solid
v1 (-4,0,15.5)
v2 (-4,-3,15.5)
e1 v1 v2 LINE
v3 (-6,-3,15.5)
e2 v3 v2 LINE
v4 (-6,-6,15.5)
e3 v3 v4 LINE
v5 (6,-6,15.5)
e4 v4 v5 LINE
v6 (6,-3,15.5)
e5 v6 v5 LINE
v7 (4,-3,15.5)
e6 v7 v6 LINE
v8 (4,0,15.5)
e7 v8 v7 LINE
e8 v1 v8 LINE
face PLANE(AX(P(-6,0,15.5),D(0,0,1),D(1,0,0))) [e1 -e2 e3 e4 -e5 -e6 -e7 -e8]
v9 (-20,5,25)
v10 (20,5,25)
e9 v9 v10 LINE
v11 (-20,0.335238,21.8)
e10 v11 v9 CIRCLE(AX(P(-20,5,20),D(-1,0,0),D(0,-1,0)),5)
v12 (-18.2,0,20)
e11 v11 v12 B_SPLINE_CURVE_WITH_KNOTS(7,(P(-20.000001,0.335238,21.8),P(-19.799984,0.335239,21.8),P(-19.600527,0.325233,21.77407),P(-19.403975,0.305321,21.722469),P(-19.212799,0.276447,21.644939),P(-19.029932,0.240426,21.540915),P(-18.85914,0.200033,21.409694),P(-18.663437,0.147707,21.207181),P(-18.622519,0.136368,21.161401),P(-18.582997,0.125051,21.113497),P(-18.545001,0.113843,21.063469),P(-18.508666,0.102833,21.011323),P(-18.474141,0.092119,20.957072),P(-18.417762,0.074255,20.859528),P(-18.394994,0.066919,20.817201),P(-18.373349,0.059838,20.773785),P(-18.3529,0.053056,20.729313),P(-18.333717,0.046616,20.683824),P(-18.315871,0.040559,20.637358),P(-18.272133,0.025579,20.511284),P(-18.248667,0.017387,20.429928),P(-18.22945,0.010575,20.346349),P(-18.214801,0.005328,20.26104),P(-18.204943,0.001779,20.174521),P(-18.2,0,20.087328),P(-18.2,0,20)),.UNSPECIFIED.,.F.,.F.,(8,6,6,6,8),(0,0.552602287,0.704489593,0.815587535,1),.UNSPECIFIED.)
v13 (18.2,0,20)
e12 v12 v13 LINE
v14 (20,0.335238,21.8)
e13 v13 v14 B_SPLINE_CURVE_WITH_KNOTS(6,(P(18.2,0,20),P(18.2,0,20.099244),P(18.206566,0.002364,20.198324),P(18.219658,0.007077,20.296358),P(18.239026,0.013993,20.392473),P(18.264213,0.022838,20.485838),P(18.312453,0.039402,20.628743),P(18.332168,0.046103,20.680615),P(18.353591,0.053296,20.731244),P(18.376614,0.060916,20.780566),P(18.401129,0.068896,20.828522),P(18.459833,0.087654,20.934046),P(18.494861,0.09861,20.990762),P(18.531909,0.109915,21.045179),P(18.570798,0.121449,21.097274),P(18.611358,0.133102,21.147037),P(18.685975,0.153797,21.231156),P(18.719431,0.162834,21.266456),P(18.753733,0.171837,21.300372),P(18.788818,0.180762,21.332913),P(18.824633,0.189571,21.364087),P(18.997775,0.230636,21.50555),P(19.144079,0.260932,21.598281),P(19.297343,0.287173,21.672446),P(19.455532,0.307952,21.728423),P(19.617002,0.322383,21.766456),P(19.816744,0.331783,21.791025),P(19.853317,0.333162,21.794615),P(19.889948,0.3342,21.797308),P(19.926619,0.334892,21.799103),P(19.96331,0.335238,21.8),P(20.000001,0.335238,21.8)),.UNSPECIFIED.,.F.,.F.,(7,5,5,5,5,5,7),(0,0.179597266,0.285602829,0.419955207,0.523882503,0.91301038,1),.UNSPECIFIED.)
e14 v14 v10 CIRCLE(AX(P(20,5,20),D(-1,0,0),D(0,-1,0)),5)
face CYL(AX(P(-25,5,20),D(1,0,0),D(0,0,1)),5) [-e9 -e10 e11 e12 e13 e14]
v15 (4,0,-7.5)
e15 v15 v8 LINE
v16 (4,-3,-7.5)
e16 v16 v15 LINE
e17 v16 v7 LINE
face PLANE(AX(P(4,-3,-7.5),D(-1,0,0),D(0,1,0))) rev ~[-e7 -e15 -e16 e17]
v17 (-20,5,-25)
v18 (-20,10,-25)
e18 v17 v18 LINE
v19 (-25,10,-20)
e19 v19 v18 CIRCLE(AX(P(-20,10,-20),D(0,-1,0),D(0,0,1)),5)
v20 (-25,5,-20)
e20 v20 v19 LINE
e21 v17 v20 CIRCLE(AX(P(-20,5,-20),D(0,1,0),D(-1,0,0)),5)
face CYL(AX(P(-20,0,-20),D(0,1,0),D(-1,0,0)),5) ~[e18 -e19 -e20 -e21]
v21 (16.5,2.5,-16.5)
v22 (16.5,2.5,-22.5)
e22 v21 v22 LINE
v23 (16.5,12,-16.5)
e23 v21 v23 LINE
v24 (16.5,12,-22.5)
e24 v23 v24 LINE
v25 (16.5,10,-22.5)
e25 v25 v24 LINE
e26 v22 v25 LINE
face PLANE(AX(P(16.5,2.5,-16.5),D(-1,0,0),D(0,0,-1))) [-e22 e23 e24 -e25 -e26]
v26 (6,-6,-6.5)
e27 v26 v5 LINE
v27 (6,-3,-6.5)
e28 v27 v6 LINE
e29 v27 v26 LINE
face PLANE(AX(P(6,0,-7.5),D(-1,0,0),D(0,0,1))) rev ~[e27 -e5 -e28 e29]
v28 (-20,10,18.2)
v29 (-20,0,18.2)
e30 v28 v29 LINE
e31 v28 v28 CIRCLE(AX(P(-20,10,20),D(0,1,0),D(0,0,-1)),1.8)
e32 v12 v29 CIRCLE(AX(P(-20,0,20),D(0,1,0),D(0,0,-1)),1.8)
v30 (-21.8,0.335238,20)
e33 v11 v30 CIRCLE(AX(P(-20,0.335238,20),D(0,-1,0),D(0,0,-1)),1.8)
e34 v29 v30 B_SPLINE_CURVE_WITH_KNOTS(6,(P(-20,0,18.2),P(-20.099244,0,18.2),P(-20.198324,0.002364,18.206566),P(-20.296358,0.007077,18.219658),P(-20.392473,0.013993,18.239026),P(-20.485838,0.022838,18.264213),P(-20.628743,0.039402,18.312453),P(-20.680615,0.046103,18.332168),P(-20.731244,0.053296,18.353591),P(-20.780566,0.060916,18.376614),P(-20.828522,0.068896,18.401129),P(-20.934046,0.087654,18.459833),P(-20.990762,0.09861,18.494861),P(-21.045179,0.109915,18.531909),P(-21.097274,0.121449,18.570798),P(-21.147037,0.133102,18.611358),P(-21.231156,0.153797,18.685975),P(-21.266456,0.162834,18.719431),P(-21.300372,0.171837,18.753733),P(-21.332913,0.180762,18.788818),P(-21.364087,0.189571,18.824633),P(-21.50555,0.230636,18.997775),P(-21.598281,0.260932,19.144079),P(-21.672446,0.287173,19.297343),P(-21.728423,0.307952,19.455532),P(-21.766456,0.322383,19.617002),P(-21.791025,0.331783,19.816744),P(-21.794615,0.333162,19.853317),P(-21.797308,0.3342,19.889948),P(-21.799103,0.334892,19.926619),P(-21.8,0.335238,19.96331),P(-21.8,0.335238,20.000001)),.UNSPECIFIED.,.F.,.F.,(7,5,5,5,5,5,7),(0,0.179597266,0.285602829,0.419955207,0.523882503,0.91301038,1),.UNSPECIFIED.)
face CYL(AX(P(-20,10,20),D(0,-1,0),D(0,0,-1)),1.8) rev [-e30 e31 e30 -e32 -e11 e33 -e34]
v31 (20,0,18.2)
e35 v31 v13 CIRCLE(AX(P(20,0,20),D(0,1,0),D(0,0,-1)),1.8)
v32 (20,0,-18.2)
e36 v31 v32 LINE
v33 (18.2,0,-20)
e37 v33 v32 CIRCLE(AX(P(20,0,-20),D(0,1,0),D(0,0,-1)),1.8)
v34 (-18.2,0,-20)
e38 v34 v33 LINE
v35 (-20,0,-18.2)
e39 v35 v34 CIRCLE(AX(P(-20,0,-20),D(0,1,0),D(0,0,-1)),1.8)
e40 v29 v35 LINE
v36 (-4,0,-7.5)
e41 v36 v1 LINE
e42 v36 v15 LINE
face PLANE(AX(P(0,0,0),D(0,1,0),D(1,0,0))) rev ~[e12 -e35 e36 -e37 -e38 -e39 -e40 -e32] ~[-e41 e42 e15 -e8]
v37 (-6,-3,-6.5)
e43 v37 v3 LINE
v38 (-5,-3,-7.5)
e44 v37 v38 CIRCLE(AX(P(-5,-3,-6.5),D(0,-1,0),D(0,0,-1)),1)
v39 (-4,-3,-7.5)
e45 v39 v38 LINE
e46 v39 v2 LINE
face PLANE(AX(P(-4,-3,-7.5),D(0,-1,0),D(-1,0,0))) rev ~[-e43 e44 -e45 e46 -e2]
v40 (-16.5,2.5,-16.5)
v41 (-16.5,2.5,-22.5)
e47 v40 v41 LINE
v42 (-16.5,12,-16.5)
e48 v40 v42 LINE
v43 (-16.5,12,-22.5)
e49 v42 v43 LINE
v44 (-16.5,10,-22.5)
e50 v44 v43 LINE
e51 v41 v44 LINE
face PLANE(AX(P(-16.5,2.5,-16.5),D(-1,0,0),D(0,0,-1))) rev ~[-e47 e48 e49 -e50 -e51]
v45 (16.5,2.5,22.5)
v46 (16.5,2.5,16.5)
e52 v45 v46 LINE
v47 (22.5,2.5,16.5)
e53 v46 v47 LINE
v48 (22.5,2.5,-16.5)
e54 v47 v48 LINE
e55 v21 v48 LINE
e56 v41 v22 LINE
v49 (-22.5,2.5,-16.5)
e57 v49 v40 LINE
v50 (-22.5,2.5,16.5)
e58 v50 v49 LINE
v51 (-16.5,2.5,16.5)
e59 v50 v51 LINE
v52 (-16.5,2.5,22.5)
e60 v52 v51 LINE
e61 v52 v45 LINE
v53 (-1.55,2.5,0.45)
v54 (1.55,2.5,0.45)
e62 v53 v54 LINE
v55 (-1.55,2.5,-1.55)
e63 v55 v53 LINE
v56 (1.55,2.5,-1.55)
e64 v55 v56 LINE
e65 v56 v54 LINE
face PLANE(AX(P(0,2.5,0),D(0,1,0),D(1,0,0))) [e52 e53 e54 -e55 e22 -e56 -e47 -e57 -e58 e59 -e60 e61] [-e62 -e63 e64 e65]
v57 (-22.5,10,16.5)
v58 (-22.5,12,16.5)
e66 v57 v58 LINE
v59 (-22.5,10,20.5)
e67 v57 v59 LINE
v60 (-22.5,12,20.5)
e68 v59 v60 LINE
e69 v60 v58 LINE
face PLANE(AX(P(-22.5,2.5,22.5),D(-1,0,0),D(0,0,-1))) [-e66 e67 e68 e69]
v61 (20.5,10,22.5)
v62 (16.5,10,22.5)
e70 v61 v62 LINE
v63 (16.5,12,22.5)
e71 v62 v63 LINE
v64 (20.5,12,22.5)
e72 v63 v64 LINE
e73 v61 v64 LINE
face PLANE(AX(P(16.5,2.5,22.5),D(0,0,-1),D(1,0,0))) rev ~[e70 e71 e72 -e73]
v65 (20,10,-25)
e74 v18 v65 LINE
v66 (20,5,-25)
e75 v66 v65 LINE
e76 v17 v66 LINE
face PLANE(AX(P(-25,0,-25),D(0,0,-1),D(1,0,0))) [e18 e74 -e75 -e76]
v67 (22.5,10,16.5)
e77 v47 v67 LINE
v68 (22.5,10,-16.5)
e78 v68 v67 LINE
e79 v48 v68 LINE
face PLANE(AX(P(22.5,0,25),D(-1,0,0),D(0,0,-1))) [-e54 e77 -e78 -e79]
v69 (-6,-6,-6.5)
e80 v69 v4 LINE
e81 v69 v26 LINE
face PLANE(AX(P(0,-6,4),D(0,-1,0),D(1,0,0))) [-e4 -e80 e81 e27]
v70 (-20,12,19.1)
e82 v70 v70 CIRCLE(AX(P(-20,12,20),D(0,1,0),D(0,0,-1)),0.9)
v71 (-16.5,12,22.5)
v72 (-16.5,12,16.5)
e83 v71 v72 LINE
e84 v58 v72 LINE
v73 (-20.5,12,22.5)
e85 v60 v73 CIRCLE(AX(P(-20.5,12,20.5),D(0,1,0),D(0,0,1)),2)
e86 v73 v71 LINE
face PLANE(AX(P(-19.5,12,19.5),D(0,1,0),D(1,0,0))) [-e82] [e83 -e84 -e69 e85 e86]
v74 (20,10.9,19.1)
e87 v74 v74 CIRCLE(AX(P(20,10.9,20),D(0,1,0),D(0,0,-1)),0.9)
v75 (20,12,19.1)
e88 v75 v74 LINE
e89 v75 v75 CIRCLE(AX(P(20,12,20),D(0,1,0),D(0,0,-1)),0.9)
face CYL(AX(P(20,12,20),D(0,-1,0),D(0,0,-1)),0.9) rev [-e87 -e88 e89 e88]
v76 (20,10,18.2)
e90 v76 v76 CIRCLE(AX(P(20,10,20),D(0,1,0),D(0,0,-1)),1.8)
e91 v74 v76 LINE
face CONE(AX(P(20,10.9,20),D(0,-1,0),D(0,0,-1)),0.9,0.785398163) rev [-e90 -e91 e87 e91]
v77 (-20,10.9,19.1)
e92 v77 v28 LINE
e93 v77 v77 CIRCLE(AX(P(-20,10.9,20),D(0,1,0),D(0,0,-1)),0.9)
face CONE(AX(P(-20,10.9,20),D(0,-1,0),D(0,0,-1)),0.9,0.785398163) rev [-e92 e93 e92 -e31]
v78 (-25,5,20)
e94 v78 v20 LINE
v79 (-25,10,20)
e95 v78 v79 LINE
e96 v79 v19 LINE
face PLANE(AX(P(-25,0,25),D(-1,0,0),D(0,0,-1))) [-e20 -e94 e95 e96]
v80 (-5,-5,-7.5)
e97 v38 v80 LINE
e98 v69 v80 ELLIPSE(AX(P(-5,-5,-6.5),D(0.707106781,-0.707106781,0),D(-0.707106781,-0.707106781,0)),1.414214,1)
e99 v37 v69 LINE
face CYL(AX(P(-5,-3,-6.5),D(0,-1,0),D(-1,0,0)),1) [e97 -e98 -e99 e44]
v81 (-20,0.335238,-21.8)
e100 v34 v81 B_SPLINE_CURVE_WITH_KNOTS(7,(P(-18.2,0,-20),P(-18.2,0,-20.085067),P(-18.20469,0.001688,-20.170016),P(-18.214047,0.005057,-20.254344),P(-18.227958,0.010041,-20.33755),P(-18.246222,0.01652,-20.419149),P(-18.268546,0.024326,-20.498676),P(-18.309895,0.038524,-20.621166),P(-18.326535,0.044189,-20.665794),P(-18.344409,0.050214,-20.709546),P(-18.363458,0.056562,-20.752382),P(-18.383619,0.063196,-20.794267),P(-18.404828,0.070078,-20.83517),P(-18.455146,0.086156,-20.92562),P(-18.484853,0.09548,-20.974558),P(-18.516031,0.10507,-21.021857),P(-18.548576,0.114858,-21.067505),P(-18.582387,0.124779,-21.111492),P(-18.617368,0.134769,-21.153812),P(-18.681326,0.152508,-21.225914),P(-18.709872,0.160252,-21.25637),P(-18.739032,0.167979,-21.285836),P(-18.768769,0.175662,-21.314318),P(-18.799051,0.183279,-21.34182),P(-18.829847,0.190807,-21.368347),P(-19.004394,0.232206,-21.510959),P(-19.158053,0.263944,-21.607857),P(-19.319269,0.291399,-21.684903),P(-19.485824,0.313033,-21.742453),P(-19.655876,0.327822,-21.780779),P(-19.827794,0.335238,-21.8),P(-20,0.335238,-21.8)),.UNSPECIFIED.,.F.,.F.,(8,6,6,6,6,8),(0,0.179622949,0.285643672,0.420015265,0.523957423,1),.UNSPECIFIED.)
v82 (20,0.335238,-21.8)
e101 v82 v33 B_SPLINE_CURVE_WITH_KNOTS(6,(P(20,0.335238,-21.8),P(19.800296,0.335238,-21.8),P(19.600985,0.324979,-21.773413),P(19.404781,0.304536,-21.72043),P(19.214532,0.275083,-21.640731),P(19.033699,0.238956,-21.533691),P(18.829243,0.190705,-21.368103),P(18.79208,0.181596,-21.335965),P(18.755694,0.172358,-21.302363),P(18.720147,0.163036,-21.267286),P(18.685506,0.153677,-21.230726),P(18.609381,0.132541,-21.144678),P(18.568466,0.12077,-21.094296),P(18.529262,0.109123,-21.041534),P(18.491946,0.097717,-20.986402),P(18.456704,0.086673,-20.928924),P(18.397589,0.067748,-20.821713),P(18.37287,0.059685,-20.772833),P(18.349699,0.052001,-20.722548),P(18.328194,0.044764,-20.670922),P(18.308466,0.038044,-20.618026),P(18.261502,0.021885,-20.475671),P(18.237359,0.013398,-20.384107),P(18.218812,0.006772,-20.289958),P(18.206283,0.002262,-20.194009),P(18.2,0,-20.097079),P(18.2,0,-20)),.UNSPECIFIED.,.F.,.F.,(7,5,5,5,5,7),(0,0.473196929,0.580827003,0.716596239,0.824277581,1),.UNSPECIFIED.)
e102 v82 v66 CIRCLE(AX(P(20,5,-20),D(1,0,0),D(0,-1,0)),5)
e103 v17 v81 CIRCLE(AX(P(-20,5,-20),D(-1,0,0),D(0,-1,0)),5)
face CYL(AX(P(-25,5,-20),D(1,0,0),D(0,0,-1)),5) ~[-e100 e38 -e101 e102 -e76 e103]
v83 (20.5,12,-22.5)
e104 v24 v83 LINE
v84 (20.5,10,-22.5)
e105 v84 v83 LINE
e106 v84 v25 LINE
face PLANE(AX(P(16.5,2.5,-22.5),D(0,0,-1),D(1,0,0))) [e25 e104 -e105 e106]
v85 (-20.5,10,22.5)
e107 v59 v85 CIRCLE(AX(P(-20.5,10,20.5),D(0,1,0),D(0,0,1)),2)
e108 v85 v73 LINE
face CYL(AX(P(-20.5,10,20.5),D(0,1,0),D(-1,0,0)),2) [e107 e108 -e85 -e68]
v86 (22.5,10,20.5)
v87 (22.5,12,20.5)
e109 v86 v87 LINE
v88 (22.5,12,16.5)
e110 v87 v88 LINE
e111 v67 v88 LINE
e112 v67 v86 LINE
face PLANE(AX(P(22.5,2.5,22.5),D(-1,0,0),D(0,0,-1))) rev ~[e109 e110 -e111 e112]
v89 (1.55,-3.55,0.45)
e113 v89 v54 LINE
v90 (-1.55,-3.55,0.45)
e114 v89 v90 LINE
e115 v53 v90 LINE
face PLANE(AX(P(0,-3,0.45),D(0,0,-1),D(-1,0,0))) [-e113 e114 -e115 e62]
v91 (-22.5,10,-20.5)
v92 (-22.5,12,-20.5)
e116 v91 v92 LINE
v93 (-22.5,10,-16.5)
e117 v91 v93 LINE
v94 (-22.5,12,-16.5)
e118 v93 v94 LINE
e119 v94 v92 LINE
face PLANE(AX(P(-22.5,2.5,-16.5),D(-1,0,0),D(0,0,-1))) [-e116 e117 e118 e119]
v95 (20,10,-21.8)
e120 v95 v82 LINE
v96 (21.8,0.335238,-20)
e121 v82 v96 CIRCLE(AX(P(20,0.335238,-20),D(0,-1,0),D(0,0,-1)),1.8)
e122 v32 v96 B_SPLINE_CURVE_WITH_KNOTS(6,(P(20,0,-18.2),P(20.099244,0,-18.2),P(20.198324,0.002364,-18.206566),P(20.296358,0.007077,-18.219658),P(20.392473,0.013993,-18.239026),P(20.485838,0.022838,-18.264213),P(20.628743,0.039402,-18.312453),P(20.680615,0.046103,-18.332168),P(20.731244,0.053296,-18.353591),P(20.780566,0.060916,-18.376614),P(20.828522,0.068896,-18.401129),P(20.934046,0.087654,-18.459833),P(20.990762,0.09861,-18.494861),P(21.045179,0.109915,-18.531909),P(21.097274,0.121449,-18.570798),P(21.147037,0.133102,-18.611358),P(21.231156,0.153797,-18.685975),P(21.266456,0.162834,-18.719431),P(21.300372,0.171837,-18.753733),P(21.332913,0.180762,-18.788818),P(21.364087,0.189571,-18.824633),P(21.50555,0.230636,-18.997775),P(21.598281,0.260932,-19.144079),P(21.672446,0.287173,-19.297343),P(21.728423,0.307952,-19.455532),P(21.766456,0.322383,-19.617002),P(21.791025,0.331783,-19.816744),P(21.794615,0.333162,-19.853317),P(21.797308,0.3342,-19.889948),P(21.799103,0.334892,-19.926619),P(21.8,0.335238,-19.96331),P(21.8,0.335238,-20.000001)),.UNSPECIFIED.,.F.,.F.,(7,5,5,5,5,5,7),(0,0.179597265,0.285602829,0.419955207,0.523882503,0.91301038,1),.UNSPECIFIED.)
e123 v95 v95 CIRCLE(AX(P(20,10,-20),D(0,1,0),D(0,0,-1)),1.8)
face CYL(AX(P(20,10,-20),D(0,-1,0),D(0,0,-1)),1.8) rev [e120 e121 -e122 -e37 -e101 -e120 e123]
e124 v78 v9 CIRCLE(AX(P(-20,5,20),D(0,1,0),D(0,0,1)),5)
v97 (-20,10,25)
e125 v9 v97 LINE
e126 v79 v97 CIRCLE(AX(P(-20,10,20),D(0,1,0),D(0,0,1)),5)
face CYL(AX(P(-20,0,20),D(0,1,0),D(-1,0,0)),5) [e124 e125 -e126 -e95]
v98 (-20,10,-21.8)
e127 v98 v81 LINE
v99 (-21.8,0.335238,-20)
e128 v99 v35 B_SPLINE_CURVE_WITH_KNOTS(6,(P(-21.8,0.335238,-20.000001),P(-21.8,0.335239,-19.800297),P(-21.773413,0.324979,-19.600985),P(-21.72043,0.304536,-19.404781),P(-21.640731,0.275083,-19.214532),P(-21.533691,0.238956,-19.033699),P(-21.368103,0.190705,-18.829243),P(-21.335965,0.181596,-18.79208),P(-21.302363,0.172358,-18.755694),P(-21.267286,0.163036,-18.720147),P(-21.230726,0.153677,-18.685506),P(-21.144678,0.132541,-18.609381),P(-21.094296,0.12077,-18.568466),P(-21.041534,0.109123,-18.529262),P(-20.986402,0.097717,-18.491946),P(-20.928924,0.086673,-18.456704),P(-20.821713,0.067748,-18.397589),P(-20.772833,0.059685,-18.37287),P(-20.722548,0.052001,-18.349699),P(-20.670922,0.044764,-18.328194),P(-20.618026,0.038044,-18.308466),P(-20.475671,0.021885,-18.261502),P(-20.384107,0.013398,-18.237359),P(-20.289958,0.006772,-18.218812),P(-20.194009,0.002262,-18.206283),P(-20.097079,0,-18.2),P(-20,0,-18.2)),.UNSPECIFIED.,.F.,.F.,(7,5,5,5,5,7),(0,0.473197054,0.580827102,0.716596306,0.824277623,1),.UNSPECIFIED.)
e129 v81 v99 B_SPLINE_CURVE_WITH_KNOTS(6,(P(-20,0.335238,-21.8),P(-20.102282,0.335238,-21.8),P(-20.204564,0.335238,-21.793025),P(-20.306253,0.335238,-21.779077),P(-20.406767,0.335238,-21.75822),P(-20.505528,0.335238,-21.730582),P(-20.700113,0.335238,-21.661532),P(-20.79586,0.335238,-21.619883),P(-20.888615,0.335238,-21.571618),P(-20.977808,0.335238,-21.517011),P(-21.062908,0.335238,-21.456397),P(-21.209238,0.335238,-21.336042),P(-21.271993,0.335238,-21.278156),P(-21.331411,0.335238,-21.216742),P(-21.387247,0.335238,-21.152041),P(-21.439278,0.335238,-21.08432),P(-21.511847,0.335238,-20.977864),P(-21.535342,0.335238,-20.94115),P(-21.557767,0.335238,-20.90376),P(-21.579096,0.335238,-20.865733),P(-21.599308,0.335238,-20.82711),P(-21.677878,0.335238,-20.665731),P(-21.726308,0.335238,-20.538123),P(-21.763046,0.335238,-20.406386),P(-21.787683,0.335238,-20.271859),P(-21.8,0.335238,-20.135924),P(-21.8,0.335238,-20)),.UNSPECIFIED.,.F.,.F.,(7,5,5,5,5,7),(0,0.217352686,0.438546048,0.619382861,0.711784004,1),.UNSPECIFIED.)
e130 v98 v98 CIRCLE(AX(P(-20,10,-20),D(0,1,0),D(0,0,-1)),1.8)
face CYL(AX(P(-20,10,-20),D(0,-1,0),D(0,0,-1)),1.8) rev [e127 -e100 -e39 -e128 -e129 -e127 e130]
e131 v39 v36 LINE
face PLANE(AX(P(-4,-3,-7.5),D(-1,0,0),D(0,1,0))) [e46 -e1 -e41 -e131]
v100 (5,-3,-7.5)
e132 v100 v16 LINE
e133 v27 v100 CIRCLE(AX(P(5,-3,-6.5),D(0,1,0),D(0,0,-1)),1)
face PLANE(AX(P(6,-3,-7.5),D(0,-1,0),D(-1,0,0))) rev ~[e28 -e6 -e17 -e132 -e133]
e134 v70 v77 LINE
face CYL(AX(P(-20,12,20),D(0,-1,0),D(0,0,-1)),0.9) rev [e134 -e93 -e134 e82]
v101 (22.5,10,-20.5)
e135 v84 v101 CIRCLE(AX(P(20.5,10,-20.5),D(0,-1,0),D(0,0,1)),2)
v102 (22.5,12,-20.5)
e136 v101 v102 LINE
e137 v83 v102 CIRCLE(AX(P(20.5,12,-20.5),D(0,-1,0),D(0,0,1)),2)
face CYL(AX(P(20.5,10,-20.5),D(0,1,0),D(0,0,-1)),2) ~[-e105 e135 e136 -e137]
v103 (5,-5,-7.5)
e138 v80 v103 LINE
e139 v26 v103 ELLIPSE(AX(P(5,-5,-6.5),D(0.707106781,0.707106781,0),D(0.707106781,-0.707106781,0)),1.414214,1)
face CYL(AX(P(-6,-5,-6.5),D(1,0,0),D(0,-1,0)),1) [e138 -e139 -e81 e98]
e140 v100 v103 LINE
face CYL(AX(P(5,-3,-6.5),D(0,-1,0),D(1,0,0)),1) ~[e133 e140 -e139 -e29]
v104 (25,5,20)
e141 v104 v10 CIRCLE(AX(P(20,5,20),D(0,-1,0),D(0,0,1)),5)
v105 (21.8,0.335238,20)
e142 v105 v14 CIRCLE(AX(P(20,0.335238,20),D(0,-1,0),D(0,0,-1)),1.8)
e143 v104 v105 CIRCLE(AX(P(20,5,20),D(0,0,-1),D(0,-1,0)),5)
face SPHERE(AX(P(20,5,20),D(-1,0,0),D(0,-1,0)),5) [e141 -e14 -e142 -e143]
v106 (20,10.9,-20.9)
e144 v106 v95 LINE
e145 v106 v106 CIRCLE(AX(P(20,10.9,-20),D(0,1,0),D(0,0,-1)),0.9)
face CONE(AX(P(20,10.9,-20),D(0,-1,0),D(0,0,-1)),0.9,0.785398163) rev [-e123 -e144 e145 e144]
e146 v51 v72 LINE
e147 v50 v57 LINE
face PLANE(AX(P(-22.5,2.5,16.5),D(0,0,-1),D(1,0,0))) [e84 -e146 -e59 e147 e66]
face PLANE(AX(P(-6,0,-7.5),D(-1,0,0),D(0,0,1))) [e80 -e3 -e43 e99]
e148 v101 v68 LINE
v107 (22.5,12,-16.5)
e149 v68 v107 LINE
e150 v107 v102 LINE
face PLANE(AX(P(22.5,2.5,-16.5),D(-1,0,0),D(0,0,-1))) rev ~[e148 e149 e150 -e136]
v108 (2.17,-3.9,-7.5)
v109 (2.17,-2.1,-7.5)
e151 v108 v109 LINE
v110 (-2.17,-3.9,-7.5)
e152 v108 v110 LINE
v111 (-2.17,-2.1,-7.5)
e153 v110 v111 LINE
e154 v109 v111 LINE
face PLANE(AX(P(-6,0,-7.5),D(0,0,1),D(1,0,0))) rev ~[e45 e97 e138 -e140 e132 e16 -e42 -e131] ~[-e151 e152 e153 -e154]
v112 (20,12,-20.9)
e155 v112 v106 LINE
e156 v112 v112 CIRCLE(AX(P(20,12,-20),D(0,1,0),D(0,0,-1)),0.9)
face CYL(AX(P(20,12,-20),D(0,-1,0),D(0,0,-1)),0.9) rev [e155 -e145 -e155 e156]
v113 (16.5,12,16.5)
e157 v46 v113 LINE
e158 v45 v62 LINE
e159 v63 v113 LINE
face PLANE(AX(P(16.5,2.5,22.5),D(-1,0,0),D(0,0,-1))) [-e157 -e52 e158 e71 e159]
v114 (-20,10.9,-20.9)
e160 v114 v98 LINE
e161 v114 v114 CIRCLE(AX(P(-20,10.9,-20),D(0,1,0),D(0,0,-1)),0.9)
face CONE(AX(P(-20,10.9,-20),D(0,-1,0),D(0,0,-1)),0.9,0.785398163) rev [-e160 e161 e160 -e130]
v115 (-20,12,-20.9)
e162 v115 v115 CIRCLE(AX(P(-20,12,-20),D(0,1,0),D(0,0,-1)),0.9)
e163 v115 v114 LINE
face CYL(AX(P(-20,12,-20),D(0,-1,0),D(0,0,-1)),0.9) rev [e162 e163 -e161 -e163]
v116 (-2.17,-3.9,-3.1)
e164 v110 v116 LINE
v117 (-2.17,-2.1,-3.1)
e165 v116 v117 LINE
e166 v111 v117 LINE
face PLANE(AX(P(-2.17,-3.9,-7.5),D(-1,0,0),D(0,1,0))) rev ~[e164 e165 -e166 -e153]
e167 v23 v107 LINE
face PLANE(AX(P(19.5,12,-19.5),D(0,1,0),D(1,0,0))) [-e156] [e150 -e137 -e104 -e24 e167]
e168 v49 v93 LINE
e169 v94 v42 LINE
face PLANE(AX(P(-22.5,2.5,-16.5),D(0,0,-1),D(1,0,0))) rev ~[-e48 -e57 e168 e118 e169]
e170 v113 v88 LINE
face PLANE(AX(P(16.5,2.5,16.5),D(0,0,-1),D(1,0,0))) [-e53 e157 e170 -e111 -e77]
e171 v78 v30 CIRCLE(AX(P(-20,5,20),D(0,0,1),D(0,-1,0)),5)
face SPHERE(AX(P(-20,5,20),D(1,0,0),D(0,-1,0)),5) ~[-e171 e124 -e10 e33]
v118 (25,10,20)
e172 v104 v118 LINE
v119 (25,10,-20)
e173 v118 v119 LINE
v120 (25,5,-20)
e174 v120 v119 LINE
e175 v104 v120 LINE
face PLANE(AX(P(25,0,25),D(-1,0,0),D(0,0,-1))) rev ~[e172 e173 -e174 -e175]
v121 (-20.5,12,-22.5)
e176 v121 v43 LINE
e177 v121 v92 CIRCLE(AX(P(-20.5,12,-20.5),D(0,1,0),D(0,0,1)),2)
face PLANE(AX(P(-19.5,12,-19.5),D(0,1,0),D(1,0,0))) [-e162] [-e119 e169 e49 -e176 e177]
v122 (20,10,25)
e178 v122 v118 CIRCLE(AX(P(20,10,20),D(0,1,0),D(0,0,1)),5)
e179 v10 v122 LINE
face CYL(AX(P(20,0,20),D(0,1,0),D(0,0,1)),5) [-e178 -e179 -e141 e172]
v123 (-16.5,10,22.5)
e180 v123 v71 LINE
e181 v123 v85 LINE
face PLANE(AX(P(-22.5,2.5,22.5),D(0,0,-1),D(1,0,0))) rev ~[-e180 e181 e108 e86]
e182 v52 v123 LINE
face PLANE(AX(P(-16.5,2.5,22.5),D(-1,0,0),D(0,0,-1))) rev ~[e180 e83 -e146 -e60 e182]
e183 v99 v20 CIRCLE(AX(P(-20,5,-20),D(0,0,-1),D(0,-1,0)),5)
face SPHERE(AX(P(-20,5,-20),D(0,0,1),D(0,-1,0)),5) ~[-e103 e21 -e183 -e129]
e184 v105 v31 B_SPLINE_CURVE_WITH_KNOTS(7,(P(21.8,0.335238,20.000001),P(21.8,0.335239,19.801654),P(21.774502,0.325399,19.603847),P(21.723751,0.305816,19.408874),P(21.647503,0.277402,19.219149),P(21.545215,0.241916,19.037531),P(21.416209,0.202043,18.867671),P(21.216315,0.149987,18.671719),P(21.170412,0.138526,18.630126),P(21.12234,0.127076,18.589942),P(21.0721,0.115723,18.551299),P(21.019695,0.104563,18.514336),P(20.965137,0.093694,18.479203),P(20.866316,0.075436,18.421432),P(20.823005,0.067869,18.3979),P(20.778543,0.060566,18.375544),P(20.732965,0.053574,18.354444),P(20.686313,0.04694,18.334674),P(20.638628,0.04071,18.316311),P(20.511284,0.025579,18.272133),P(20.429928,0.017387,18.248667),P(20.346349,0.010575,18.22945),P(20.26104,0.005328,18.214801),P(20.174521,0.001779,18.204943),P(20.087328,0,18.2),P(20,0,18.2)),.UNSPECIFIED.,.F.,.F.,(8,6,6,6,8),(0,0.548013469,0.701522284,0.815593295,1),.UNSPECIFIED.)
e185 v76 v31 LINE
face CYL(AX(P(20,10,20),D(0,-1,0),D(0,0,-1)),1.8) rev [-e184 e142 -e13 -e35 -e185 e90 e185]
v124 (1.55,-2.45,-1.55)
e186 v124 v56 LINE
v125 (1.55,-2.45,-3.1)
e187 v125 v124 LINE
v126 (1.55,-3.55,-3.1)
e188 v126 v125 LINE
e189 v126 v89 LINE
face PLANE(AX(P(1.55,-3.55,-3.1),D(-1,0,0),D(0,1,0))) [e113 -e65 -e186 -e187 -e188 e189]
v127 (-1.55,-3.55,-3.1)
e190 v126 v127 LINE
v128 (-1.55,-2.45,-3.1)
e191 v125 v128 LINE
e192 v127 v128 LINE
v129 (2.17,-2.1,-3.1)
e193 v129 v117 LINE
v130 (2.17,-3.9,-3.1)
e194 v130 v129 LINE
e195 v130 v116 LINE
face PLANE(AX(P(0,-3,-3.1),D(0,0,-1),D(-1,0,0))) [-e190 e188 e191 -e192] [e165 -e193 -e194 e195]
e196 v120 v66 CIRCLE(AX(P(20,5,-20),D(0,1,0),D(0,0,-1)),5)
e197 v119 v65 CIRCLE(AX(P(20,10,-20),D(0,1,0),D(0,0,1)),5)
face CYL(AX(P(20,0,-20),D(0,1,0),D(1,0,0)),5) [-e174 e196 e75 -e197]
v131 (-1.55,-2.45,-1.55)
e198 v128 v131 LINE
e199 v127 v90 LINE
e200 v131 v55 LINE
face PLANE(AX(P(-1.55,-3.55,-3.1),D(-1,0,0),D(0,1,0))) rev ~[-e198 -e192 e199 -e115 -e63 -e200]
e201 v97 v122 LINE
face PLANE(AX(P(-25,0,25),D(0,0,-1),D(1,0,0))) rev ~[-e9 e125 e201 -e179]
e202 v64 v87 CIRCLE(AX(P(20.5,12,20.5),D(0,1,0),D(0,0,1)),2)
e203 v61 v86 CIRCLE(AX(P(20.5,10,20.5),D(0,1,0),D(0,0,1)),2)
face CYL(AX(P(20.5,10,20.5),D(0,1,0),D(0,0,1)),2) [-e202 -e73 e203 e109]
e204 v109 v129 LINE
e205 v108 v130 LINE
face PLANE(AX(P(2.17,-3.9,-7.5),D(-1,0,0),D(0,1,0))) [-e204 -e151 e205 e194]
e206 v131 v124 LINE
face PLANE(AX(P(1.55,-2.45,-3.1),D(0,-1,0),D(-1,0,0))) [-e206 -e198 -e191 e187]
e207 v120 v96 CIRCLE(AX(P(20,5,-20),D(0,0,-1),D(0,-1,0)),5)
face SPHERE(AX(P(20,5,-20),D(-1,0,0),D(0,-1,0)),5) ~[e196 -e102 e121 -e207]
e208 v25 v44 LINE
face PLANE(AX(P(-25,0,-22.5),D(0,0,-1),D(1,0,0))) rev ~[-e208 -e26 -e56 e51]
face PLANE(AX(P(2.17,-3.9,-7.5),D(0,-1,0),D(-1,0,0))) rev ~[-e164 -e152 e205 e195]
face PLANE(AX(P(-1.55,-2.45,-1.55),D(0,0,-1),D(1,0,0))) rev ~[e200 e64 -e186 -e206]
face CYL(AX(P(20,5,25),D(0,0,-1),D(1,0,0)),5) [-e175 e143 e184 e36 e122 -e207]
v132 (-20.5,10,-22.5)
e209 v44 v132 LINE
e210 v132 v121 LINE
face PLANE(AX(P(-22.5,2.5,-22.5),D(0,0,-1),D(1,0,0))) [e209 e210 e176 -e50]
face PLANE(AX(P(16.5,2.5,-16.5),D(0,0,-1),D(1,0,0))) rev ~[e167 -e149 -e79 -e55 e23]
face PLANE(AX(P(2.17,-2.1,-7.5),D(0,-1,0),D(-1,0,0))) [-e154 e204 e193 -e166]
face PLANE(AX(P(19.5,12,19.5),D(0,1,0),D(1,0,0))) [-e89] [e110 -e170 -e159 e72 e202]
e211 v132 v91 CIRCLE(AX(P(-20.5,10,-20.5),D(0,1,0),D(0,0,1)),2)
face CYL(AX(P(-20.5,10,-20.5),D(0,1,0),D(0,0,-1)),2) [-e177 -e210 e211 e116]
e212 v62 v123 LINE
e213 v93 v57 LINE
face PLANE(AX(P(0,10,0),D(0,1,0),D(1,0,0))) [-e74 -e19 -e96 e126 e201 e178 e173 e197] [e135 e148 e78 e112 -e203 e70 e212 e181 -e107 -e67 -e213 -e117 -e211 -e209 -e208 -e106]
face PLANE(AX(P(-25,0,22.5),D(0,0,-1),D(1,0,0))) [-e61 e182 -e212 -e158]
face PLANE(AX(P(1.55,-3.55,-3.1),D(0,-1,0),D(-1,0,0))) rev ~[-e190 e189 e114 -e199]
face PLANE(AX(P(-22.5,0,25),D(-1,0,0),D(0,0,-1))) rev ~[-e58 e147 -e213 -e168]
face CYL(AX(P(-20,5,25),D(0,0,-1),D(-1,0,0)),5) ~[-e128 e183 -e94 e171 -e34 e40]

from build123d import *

# Parameters (mm, degrees)
SKETCH1_W                                    = 50
SKETCH1_H                                    = 50
BOSS_EXTRUDE1_DEPTH                          = 10
SHELL1_T                                     = -2.5
FILLET1_R                                    = 5
SKETCH2_W                                    = 6
SKETCH2_H                                    = 6
BOSS_EXTRUDE2_DEPTH                          = 9.5
CSK_SLOT_FOR_M1_6_COUNTERSUNK_FLAT_H_2_COUNT = 2
CSK_SLOT_FOR_M1_6_COUNTERSUNK_FLAT_H_2_PITCH = 40
CSK_SLOT_FOR_M1_6_COUNTERSUNK_FLAT_H_3_COUNT = 2
CSK_SLOT_FOR_M1_6_COUNTERSUNK_FLAT_H_3_PITCH = 56.568542495
CSK_SLOT_FOR_M1_6_COUNTERSUNK_FLAT_H_4_COUNT = 2
CSK_SLOT_FOR_M1_6_COUNTERSUNK_FLAT_H_4_PITCH = 40
SKETCH7_W                                    = 12
SKETCH7_H                                    = 23
BOSS_EXTRUDE3_DEPTH                          = 6
SKETCH8_W                                    = 2
SKETCH8_H                                    = 3
CUT_EXTRUDE1_DEPTH                           = 43.72294479
FILLET2_R                                    = 1
SKETCH9_W                                    = 4.34
SKETCH9_H                                    = 1.8
CUT_EXTRUDE2_DEPTH                           = 4.4
SKETCH10_W                                   = 3.1
SKETCH10_H                                   = 1.1
CUT_EXTRUDE3_DEPTH                           = 3.55
CUT_EXTRUDE4_REACH                           = 40.194
SKETCH13_W                                   = 3.1
SKETCH13_H                                   = 2
FILLET3_R                                    = 2


with BuildPart() as part:
    # Sketch1 → Boss-Extrude1 (new body)
    with BuildSketch(Plane(origin=(0, 0, 0), x_dir=(1, 0, 0), z_dir=(0, 1, 0))):
        Rectangle(SKETCH1_W, SKETCH1_H)
    extrude(amount=BOSS_EXTRUDE1_DEPTH)

    # Shell1
    shell1_openings = [part.faces().sort_by_distance(p)[0] for p in [
        (0, 10, 0),
    ]]
    offset(amount=SHELL1_T, openings=shell1_openings, kind=Kind.INTERSECTION)

    # Fillet1
    fillet1_edges = [part.edges().sort_by_distance(p)[0] for p in [
        (0, 0, 25),
        (-25, 0, 0),
        (0, 0, -25),
        (25, 0, 0),
        (25, 5, 25),
        (-25, 5, 25),
        (-25, 5, -25),
        (25, 5, -25),
    ]]
    fillet(fillet1_edges, radius=FILLET1_R)

    # Sketch2 → Boss-Extrude2 (add)
    with BuildSketch(Plane(origin=(0, 2.5, 0), x_dir=(1, 0, 0), z_dir=(0, 1, 0))):
        with Locations((19.5, 19.5)):
            Rectangle(SKETCH2_W, SKETCH2_H)
        with Locations((-19.5, 19.5)):
            Rectangle(SKETCH2_W, SKETCH2_H)
        with Locations((19.5, -19.5)):
            Rectangle(SKETCH2_W, SKETCH2_H)
        with Locations((-19.5, -19.5)):
            Rectangle(SKETCH2_W, SKETCH2_H)
    extrude(amount=BOSS_EXTRUDE2_DEPTH)

    # Sketch6 → CSK SLOT for M1.6 Countersunk Flat Head Screw1 (revolve, cut)
    with BuildSketch(Plane(origin=(20, 0, 20), x_dir=(0, 0, -1), z_dir=(1, 0, 0))):
        Polygon((0, 0), (0, 12), (0.9, 12), (0.9, 10.9), (1.8, 10), (1.8, 0), align=None)
    csk_slot_for_m1_6_countersunk_flat_head = revolve(axis=Axis((20, -6.35, 20), (0, 1, 0)), mode=Mode.SUBTRACT)

    # CSK SLOT for M1.6 Countersunk Flat H 2: CSK SLOT for M1.6 Countersunk Flat Head Screw1 ×2
    with Locations(*[(-i * CSK_SLOT_FOR_M1_6_COUNTERSUNK_FLAT_H_2_PITCH, 0, 0) for i in range(1, CSK_SLOT_FOR_M1_6_COUNTERSUNK_FLAT_H_2_COUNT)]):
        add(csk_slot_for_m1_6_countersunk_flat_head, mode=Mode.SUBTRACT)

    # CSK SLOT for M1.6 Countersunk Flat H 3: CSK SLOT for M1.6 Countersunk Flat Head Screw1 ×2
    with Locations(*[Vector(-0.7071067811865476, 0, -0.7071067811865475) * (i * CSK_SLOT_FOR_M1_6_COUNTERSUNK_FLAT_H_3_PITCH) for i in range(1, CSK_SLOT_FOR_M1_6_COUNTERSUNK_FLAT_H_3_COUNT)]):
        add(csk_slot_for_m1_6_countersunk_flat_head, mode=Mode.SUBTRACT)

    # CSK SLOT for M1.6 Countersunk Flat H 4: CSK SLOT for M1.6 Countersunk Flat Head Screw1 ×2
    with Locations(*[(0, 0, -i * CSK_SLOT_FOR_M1_6_COUNTERSUNK_FLAT_H_4_PITCH) for i in range(1, CSK_SLOT_FOR_M1_6_COUNTERSUNK_FLAT_H_4_COUNT)]):
        add(csk_slot_for_m1_6_countersunk_flat_head, mode=Mode.SUBTRACT)

    # Sketch7 → Boss-Extrude3 (add)
    with BuildSketch(Plane.XZ):
        with Locations((0, 4)):
            Rectangle(SKETCH7_W, SKETCH7_H)
    extrude(amount=BOSS_EXTRUDE3_DEPTH)

    # Sketch8 → Cut-Extrude1 (cut, through all)
    with BuildSketch(Plane(origin=(0, 0, -7.5), x_dir=(-1, 0, 0), z_dir=(0, 0, -1))):
        with Locations((5, -1.5)):
            Rectangle(SKETCH8_W, SKETCH8_H)
        with Locations((-5, -1.5)):
            Rectangle(SKETCH8_W, SKETCH8_H)
    extrude(amount=-CUT_EXTRUDE1_DEPTH, mode=Mode.SUBTRACT)

    # Fillet2
    fillet2_edges = [part.edges().sort_by_distance(p)[0] for p in [
        (-6, -4.5, -7.5),
        (6, -4.5, -7.5),
        (0, -6, -7.5),
    ]]
    fillet(fillet2_edges, radius=FILLET2_R)

    # Sketch9 → Cut-Extrude2 (cut)
    with BuildSketch(Plane(origin=(0, 0, -7.5), x_dir=(-1, 0, 0), z_dir=(0, 0, -1))):
        with Locations((0, -3)):
            Rectangle(SKETCH9_W, SKETCH9_H)
    extrude(amount=-CUT_EXTRUDE2_DEPTH, mode=Mode.SUBTRACT)

    # Sketch10 → Cut-Extrude3 (cut)
    with BuildSketch(Plane(origin=(0, 0, -3.1), x_dir=(-1, 0, 0), z_dir=(0, 0, -1))):
        with Locations((0, -3)):
            Rectangle(SKETCH10_W, SKETCH10_H)
    extrude(amount=-CUT_EXTRUDE3_DEPTH, mode=Mode.SUBTRACT)

    # Sketch13 → Cut-Extrude4 (cut, up to next)
    with BuildSketch(Plane.XZ.offset(2.45), mode=Mode.PRIVATE) as cut_extrude4_sk1:
        with Locations((0, -0.55)):
            Rectangle(SKETCH13_W, SKETCH13_H)
    cut_extrude4_tool1 = extrude(cut_extrude4_sk1.sketch, amount=-CUT_EXTRUDE4_REACH, mode=Mode.PRIVATE) & part.part
    add(cut_extrude4_tool1.solids().sort_by_distance((0, -2.45, -0.55))[0], mode=Mode.SUBTRACT)

    # Fillet3
    fillet3_edges = [part.edges().sort_by_distance(p)[0] for p in [
        (-22.5, 11, 22.5),
        (-22.5, 11, -22.5),
        (22.5, 11, -22.5),
        (22.5, 11, 22.5),
    ]]
    fillet(fillet3_edges, radius=FILLET3_R)


solid = part.part
